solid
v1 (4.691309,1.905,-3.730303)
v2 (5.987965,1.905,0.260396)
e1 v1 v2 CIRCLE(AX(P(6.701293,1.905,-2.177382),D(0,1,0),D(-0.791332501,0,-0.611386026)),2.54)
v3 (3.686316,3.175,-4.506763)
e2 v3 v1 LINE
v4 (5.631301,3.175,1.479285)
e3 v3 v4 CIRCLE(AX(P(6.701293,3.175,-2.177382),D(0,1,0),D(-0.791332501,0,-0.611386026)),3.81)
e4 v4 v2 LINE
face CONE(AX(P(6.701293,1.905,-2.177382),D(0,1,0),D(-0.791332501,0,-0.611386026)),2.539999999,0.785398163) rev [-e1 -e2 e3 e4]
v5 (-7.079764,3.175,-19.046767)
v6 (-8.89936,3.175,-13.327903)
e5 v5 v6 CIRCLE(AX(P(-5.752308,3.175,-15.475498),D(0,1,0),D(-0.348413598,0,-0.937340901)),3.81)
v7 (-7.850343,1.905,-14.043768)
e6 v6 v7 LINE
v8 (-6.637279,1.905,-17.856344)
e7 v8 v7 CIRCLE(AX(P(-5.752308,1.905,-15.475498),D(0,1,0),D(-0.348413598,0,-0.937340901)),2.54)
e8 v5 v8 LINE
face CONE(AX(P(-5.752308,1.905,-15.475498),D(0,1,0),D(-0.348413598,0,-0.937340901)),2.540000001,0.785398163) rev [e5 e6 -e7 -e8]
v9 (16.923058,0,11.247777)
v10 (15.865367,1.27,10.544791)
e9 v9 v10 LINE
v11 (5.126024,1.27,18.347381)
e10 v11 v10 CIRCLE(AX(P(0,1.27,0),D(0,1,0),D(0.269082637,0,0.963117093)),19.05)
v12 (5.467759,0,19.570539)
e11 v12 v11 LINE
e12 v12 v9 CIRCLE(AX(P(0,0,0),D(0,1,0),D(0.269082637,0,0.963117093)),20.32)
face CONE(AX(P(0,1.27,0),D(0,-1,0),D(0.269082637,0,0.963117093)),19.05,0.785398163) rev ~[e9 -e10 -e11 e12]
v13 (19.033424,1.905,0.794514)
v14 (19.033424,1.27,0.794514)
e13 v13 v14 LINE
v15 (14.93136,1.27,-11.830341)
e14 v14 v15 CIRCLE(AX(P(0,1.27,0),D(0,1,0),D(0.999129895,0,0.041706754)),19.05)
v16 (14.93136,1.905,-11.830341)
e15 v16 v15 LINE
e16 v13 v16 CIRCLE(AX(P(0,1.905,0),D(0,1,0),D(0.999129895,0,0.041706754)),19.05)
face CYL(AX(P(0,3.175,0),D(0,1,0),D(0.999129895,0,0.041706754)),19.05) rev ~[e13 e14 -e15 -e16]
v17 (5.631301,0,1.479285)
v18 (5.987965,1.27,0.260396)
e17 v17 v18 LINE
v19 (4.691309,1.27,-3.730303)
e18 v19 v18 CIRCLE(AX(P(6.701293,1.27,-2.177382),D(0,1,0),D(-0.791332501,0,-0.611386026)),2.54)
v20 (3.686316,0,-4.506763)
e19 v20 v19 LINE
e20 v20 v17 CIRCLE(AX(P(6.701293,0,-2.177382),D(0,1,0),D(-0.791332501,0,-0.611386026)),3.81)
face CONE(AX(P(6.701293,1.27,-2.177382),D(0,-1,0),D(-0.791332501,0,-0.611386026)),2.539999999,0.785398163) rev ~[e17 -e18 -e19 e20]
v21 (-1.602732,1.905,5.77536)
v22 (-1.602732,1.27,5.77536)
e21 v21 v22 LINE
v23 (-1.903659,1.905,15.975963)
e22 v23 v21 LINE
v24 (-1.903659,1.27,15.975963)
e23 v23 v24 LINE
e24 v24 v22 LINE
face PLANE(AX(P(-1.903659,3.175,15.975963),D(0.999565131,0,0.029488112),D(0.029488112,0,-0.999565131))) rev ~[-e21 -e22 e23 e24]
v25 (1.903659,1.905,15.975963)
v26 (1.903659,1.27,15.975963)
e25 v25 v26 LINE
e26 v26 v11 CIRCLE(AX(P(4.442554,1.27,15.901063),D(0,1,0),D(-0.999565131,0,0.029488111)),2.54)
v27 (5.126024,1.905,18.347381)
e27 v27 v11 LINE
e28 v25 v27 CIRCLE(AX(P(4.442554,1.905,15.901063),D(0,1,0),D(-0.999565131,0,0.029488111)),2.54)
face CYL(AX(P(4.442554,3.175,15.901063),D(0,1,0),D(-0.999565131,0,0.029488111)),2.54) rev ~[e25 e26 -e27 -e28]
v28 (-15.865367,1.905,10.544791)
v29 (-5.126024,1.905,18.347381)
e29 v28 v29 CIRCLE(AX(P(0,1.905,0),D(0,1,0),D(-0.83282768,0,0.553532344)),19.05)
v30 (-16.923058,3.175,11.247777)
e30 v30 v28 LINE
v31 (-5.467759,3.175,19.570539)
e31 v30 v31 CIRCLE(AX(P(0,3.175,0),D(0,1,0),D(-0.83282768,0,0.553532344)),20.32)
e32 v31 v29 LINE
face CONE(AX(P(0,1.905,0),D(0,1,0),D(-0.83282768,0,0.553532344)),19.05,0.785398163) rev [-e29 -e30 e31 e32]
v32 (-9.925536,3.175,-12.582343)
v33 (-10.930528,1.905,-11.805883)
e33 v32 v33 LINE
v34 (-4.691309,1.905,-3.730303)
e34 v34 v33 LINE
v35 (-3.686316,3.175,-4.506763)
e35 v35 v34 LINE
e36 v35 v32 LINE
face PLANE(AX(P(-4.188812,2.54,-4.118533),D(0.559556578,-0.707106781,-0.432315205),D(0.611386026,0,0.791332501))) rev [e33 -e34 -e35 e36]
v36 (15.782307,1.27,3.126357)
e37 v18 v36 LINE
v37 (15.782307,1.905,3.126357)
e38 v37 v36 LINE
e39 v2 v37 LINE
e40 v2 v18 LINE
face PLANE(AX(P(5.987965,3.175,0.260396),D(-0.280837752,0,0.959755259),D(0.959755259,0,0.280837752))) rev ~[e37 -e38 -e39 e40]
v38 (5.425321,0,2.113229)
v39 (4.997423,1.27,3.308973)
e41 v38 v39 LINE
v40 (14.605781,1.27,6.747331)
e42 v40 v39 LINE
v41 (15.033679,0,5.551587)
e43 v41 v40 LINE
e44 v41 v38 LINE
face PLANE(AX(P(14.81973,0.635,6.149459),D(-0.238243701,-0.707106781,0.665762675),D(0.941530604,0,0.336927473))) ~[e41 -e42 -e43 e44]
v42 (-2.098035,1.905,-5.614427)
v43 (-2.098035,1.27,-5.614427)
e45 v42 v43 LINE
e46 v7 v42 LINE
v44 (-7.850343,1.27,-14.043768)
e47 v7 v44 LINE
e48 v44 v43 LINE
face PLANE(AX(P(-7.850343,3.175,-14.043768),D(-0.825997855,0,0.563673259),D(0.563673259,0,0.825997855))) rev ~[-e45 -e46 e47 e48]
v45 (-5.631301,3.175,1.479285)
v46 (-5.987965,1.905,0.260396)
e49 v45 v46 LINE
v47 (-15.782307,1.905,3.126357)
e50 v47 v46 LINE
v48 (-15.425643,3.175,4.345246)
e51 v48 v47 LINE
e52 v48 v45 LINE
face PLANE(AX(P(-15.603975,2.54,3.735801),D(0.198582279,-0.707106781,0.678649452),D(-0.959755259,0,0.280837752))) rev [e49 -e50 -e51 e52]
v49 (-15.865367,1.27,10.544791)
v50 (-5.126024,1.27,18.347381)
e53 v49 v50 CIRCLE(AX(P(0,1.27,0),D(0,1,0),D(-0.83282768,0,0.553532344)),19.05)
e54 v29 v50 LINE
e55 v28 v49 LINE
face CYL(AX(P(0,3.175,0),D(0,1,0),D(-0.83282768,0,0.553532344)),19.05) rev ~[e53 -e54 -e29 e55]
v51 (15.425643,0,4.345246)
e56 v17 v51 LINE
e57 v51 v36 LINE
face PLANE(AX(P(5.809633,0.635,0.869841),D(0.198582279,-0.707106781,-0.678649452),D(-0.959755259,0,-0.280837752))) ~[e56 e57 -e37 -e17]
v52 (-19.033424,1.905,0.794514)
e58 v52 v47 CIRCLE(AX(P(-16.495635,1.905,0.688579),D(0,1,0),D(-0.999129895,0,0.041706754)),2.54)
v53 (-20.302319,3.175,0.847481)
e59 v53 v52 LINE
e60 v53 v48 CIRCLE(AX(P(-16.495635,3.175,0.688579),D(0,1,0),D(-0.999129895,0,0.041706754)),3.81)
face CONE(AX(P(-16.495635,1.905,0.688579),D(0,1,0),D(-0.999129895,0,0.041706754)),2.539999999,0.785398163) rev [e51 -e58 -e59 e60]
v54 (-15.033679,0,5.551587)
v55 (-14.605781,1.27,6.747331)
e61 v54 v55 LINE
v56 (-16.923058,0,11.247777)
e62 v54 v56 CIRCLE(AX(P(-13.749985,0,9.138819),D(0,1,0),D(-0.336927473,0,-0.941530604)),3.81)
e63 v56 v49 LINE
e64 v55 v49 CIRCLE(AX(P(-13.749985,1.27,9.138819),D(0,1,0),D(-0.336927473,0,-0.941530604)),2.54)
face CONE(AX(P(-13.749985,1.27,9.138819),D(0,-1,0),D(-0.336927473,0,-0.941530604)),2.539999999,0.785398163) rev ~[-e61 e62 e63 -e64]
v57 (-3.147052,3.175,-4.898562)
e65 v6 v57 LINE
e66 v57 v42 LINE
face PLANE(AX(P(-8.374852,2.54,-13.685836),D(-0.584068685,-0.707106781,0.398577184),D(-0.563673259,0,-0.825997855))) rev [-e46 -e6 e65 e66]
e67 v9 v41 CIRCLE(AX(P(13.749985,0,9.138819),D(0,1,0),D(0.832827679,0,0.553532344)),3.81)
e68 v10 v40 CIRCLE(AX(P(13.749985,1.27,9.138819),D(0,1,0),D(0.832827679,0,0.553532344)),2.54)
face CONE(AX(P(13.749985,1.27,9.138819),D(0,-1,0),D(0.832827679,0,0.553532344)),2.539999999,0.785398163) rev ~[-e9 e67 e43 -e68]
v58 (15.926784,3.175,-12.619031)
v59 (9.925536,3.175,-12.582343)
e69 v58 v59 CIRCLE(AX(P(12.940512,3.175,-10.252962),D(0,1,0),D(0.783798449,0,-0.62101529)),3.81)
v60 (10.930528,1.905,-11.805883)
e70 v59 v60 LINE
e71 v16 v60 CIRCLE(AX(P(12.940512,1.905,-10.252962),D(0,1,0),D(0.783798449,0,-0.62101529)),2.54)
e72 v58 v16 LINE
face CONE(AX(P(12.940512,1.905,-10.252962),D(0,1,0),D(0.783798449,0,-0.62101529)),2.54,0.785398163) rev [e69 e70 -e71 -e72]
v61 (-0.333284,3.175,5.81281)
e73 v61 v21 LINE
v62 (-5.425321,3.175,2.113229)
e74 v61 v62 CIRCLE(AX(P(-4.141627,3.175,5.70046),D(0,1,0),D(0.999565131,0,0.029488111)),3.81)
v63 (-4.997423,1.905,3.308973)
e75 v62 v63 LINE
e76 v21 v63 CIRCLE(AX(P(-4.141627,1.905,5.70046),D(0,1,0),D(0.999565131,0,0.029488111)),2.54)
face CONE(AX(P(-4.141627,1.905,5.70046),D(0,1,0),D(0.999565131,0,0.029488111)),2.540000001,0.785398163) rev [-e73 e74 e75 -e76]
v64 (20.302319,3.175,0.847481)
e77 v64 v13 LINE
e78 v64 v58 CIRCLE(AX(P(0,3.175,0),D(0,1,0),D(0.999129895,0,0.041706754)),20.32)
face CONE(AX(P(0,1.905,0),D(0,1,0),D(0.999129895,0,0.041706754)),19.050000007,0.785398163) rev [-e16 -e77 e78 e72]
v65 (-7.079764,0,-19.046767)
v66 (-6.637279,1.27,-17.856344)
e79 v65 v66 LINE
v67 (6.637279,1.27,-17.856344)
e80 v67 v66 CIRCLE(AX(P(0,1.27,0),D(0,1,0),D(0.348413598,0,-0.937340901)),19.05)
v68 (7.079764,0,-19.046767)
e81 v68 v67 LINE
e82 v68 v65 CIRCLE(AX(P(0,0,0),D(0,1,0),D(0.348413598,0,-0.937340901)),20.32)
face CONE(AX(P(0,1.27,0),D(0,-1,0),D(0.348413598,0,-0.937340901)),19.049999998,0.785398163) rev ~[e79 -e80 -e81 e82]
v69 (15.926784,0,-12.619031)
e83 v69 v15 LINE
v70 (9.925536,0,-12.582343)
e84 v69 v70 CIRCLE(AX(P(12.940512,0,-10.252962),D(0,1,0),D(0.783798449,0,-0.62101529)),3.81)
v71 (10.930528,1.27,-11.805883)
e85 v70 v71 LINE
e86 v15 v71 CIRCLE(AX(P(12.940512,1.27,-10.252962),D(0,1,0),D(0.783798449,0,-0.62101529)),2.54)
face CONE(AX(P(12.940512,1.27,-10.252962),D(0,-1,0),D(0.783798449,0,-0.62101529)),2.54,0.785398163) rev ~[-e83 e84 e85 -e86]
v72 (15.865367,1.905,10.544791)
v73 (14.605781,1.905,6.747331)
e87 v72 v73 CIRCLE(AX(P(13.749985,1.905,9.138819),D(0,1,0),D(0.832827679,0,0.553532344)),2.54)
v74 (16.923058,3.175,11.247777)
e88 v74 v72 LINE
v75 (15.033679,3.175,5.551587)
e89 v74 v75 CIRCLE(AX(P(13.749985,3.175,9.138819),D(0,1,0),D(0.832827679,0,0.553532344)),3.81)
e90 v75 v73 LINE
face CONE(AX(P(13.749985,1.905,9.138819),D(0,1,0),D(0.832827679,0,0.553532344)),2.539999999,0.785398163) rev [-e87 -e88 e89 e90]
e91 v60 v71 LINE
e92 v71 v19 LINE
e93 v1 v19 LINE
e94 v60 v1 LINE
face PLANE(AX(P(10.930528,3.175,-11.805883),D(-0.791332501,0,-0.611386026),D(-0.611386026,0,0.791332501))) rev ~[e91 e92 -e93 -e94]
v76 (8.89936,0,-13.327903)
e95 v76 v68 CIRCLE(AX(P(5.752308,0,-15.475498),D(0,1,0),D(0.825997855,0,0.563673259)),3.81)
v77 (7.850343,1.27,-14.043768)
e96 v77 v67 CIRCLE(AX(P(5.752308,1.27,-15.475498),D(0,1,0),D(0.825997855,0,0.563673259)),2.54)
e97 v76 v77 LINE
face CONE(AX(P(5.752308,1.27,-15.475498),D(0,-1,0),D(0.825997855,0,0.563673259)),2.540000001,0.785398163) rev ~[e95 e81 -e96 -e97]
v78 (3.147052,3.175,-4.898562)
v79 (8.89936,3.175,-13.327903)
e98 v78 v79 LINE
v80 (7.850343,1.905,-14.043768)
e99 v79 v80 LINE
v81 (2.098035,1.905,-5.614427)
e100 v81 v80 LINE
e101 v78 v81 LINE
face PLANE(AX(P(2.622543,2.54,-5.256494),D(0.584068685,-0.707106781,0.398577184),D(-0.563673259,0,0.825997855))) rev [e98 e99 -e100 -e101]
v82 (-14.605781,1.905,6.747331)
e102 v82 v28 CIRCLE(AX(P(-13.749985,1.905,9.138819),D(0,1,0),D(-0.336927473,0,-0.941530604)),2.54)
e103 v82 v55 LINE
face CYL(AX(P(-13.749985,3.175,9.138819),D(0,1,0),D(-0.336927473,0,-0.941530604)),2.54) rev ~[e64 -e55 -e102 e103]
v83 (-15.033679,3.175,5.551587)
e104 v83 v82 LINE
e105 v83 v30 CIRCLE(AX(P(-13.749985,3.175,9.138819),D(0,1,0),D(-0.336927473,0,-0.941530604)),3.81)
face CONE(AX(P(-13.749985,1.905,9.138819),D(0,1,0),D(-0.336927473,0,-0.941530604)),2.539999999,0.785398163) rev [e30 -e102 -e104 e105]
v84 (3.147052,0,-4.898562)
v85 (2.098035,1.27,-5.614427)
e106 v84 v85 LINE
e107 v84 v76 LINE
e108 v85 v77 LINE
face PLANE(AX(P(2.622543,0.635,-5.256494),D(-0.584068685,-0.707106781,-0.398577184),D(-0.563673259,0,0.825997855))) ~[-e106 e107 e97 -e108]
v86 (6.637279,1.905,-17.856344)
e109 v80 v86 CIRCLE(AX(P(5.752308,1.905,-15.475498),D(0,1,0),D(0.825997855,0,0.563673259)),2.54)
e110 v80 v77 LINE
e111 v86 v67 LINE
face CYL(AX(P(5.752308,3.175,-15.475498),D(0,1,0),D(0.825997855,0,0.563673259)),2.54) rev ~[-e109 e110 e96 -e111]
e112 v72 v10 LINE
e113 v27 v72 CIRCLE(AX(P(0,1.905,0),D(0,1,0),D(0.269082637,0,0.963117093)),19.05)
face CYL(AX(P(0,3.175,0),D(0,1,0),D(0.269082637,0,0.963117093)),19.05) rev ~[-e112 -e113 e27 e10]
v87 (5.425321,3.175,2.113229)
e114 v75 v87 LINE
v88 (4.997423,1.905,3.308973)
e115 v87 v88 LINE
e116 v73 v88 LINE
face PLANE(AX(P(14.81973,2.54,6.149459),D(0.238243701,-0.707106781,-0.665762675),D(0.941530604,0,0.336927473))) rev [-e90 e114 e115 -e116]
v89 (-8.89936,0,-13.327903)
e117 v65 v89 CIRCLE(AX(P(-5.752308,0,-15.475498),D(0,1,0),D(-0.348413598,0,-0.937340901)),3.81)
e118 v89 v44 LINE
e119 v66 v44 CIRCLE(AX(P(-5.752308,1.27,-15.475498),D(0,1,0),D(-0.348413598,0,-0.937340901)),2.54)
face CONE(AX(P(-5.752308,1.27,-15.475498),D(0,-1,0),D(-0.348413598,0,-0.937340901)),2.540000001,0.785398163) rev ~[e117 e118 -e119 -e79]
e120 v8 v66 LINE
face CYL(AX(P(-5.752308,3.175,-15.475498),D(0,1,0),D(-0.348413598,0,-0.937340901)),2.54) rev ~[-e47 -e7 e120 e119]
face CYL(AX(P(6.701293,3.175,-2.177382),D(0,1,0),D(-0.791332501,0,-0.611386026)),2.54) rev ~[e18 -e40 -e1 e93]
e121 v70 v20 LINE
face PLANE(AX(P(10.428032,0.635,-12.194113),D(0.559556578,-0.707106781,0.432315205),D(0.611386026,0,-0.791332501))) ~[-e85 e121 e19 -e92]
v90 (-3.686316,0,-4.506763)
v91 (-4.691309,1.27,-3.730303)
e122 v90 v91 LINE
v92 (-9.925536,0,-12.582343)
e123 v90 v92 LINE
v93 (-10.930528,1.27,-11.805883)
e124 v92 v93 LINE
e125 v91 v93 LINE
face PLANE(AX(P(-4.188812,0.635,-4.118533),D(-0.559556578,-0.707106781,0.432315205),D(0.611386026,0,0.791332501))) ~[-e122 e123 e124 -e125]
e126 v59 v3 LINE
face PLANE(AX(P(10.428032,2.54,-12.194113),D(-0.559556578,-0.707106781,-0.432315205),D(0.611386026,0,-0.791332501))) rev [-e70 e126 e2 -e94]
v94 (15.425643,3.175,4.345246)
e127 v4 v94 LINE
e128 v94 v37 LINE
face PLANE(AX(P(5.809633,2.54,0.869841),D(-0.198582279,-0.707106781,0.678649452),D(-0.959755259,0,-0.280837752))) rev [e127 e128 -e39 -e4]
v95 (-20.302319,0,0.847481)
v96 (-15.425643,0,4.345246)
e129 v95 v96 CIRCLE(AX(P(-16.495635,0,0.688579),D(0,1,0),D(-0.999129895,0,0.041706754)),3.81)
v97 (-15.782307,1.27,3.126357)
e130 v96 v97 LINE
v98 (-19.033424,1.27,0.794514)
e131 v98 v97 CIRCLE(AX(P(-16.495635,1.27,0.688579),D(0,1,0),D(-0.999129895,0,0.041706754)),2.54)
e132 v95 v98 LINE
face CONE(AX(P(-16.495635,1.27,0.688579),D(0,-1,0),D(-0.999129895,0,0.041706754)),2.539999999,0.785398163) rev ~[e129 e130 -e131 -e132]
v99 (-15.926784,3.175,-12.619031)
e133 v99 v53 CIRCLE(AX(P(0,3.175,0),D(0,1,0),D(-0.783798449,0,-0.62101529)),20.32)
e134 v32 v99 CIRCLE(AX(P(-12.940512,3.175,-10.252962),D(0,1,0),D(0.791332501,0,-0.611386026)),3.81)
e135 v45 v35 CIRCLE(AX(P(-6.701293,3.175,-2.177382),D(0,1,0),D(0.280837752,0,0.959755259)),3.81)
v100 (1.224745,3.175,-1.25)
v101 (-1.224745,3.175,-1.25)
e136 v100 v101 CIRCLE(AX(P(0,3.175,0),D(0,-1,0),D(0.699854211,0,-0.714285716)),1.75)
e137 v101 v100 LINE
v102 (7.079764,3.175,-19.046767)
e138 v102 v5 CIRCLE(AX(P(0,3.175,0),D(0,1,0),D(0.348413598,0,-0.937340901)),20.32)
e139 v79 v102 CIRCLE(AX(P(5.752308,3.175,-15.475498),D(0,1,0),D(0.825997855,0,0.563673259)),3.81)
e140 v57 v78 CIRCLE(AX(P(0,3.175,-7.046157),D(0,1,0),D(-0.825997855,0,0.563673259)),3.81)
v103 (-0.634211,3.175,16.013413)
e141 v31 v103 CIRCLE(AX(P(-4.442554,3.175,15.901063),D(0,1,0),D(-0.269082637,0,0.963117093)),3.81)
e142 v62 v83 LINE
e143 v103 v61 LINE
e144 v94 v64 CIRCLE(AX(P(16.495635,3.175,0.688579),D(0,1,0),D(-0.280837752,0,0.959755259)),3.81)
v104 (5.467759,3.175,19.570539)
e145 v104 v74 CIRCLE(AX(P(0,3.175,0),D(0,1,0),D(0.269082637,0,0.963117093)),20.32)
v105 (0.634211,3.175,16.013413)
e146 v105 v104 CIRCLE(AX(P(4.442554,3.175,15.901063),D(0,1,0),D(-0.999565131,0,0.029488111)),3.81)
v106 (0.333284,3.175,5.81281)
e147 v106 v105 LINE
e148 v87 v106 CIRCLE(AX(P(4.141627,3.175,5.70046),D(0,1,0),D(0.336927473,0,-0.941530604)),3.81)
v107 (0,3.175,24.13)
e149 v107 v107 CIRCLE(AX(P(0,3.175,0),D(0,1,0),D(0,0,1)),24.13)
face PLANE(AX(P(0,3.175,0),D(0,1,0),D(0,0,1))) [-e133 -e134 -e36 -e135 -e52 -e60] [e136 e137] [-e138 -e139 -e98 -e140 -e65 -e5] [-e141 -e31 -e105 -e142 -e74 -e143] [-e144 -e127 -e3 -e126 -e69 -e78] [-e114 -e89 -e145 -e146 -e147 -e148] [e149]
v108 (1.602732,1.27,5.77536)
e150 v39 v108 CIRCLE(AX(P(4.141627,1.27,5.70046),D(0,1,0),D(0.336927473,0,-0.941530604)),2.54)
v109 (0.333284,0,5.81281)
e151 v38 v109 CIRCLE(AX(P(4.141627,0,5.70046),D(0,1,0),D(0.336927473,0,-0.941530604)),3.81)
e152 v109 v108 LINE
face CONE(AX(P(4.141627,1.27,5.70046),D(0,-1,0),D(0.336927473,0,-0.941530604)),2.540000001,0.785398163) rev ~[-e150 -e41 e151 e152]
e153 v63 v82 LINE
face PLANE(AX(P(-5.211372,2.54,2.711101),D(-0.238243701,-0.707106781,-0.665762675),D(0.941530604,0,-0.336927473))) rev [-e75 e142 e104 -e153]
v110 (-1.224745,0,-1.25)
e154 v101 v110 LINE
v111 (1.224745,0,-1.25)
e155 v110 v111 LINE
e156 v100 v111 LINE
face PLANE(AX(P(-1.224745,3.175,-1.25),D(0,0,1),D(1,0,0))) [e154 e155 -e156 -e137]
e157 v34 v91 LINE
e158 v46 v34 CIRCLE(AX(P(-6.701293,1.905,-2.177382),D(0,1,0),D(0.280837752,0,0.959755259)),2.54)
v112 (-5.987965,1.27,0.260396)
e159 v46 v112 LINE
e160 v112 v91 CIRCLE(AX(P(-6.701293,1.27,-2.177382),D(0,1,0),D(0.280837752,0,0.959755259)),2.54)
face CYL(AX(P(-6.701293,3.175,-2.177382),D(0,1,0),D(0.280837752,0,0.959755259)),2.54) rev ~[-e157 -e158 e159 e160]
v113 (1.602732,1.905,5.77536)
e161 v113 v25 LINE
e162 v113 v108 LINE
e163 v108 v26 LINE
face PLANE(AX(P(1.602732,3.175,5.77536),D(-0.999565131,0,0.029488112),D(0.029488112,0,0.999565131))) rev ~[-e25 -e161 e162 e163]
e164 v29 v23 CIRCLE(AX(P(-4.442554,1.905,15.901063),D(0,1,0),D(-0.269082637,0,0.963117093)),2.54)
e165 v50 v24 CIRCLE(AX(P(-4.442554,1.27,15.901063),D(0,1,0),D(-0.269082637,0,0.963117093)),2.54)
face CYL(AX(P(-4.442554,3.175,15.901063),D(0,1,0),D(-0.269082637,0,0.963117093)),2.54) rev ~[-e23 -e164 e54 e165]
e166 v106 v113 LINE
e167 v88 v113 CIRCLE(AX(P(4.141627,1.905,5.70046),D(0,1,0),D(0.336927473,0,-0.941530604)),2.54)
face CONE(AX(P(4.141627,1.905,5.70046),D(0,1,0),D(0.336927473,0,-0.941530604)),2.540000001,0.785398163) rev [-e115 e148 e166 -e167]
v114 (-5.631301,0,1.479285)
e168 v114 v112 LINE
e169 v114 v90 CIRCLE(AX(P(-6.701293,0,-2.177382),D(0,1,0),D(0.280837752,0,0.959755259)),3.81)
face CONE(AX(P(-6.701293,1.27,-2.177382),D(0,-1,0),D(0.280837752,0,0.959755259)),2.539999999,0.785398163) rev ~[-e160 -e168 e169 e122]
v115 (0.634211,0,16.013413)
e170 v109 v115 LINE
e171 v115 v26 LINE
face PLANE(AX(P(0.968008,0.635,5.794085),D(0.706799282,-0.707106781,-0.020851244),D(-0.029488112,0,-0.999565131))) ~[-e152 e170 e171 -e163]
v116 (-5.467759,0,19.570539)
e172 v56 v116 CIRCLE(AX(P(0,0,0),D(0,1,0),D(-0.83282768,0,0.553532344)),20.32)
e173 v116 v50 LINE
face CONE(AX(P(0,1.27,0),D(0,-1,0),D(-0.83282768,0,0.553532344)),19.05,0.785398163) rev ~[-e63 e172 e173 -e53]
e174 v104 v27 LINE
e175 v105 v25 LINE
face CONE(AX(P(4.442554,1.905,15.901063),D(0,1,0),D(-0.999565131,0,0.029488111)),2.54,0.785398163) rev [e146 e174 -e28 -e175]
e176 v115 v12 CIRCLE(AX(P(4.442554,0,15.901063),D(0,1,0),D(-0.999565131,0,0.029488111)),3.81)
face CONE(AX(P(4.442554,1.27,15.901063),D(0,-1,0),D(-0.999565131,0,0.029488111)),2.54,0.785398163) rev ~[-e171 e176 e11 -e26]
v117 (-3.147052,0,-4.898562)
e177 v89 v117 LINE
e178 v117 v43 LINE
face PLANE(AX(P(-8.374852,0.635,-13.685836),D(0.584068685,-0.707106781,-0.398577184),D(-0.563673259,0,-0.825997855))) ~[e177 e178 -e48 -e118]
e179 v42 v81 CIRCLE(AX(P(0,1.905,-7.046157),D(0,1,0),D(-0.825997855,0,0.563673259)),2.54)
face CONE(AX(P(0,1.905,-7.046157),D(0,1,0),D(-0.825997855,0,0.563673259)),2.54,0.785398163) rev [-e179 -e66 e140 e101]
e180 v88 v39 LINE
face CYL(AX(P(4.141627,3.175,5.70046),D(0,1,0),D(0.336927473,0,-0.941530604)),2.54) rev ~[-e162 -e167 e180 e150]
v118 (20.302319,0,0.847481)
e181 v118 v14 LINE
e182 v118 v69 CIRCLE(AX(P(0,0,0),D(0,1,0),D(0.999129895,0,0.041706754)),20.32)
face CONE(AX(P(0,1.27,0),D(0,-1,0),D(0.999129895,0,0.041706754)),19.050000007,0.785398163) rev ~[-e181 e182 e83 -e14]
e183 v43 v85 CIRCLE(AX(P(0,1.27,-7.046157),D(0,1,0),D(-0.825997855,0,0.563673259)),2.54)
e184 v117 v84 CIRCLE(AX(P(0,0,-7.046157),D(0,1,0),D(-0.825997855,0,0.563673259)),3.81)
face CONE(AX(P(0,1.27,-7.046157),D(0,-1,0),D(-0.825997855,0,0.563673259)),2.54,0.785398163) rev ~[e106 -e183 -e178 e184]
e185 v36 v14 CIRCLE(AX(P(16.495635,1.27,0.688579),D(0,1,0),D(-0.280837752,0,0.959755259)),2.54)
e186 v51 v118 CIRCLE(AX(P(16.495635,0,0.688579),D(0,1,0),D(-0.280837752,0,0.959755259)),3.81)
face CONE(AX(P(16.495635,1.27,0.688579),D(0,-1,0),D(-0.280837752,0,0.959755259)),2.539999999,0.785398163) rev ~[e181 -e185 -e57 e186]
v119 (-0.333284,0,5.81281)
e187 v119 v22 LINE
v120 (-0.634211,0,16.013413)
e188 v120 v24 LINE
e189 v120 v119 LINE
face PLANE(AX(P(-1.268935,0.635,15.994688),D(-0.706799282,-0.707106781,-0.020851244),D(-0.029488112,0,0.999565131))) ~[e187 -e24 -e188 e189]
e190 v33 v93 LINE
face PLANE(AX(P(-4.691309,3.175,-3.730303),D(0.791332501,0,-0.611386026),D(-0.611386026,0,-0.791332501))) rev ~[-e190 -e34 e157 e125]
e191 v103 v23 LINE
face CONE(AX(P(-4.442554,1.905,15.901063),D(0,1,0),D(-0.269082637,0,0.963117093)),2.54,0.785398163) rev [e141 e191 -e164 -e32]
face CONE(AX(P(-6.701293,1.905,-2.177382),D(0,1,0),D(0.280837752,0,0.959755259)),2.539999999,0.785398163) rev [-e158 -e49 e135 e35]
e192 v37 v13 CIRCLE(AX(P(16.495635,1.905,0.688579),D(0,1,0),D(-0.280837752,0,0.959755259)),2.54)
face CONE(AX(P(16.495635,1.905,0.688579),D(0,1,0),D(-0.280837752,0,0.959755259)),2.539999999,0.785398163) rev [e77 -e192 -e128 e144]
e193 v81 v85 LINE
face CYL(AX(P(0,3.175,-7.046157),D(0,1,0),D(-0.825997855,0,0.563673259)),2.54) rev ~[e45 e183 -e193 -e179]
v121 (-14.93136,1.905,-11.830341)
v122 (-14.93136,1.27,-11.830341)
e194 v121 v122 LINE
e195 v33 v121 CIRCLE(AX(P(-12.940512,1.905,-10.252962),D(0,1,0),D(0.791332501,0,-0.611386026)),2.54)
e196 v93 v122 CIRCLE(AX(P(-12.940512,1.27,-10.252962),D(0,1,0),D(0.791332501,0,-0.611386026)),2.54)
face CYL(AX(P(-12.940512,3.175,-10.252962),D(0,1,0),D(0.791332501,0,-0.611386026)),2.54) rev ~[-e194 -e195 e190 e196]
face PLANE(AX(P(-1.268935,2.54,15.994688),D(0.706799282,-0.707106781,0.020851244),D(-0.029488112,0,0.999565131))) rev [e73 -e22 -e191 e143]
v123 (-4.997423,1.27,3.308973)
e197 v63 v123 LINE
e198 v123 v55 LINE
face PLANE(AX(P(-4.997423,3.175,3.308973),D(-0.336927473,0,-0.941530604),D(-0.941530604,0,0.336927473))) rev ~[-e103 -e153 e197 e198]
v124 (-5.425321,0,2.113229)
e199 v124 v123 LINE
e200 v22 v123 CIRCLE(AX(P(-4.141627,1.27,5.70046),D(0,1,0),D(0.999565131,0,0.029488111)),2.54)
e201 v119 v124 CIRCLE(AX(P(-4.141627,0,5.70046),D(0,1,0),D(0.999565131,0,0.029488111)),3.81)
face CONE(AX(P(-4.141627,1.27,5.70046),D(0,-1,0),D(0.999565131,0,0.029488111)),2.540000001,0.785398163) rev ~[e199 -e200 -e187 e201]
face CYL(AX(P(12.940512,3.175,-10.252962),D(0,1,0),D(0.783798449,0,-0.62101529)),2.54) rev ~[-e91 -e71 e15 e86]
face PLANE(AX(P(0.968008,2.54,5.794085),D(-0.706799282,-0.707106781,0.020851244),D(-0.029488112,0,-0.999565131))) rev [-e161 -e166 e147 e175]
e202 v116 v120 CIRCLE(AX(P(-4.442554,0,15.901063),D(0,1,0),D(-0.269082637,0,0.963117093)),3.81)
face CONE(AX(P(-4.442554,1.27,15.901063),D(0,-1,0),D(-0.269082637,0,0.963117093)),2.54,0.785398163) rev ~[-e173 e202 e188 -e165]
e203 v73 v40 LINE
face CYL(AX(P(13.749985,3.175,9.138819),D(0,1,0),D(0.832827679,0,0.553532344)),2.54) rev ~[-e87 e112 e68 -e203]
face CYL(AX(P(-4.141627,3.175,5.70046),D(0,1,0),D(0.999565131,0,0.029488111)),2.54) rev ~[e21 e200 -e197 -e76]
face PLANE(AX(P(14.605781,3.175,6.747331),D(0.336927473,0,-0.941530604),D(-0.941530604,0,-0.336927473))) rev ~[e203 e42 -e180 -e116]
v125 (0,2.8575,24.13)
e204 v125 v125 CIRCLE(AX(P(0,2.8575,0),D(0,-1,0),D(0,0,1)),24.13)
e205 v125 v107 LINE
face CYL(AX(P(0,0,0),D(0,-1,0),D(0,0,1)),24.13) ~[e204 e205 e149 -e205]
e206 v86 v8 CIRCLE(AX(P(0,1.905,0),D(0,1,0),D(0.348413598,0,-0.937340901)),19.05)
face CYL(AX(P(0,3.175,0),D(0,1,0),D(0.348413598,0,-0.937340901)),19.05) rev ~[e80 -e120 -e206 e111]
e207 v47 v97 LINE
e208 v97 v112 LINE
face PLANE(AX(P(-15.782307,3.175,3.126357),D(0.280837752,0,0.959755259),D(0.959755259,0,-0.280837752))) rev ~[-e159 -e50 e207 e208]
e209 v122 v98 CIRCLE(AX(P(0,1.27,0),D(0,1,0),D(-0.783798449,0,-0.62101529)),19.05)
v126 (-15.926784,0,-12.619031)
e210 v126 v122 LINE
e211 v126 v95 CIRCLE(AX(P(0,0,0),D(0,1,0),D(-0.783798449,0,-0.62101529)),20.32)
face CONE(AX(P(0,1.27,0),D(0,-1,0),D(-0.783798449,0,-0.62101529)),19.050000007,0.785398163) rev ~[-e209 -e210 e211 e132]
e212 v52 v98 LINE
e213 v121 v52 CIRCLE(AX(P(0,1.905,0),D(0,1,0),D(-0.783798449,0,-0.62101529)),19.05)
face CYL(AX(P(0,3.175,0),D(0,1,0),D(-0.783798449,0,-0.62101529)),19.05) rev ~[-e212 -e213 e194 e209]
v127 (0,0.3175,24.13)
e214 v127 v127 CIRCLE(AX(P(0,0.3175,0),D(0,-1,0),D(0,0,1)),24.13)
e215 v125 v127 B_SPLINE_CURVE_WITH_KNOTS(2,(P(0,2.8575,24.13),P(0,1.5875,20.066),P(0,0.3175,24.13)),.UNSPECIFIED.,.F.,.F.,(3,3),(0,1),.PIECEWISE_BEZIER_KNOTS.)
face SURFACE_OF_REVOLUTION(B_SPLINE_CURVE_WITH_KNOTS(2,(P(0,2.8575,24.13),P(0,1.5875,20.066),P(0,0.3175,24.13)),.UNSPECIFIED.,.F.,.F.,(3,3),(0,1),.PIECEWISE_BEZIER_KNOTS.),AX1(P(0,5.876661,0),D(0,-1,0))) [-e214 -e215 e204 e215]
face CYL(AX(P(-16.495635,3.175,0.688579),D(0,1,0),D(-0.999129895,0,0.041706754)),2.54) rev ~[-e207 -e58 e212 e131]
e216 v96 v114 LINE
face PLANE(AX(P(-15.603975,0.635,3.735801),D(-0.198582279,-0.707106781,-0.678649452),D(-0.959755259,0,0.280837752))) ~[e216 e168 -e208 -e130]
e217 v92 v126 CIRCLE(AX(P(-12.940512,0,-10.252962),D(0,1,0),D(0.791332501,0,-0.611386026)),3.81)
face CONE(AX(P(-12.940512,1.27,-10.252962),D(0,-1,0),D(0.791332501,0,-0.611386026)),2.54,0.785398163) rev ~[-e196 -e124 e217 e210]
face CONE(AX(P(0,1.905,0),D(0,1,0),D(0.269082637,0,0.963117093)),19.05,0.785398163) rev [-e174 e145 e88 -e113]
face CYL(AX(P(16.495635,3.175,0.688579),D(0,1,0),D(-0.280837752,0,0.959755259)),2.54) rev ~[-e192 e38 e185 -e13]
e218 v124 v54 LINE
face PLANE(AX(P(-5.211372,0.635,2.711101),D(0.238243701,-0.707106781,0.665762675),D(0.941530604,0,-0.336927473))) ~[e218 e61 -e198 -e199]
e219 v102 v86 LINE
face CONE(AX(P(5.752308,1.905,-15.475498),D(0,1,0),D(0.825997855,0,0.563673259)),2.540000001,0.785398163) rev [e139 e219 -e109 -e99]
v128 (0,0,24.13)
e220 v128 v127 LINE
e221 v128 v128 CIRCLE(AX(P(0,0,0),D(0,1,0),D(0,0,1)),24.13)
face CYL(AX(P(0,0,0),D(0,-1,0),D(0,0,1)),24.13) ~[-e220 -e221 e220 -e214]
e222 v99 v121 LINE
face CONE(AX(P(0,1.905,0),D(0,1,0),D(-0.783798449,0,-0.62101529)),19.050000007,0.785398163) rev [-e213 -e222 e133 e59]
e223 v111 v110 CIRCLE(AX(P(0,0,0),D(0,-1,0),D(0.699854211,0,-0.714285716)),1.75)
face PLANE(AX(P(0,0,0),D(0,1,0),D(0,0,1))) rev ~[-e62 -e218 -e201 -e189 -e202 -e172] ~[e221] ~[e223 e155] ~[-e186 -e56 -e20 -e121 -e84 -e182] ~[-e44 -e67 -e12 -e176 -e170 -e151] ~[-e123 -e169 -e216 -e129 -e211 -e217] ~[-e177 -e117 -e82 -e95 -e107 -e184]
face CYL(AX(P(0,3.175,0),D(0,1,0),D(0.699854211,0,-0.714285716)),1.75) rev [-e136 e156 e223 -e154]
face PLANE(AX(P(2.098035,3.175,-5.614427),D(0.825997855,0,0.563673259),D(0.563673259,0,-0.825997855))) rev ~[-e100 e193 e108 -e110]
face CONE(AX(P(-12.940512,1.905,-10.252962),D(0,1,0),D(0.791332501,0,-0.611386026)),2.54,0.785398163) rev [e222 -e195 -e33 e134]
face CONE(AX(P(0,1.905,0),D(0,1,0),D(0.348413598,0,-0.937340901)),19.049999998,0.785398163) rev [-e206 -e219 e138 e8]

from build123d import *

# Parameters (mm, degrees)
SKETCH1_R           = 24.13
BOSS_EXTRUDE1_DEPTH = 3.175
CUT_EXTRUDE2_DEPTH  = 35.272356572
CHAMFER2_SIZE       = 1.27
CUT_EXTRUDE4_DEPTH  = 3.175


with BuildPart() as part:
    # Sketch1 → Boss-Extrude1 (new body)
    with BuildSketch(Plane(origin=(0, 0, 0), x_dir=(1, 0, 0), z_dir=(0, 1, 0))):
        with Locations(Location((0, 0, 0), (0, 0, 270))):
            Circle(SKETCH1_R)
    extrude(amount=BOSS_EXTRUDE1_DEPTH)

    # Sketch3 → Cut-Extrude2 (cut, through all)
    with BuildSketch(Plane(origin=(0, 3.175, 0), x_dir=(1, 0, 0), z_dir=(0, 1, 0))):
        with BuildLine():
            Line((-7.850343046, 14.0437682), (-2.098034552, 5.614426559))
            ThreePointArc((-2.098034552, 5.614426559), (0, 4.506156638), (2.098034552, 5.614426559))
            Line((2.098034552, 5.614426559), (7.850343046, 14.0437682))
            ThreePointArc((7.850343046, 14.0437682), (8.172745173, 16.245619231), (6.637279032, 17.856344168))
            ThreePointArc((6.637279032, 17.856344168), (0, 19.05), (-6.637279032, 17.856344168))
            ThreePointArc((-6.637279032, 17.856344168), (-8.172745173, 16.245619231), (-7.850343046, 14.0437682))
        make_face()
        with BuildLine():
            Line((10.930527847, 11.805882948), (4.691308633, 3.730302652))
            ThreePointArc((4.691308633, 3.730302652), (4.285609634, 1.392478981), (5.987965296, -0.260396211))
            Line((5.987965296, -0.260396211), (15.782306673, -3.12635687))
            ThreePointArc((15.782306673, -3.12635687), (17.976019181, -2.752570127), (19.033424496, -0.794513668))
            ThreePointArc((19.033424496, -0.794513668), (18.117626635, 5.886773743), (14.931360461, 11.830341279))
            ThreePointArc((14.931360461, 11.830341279), (12.924984882, 12.79291498), (10.930527847, 11.805882948))
        make_face()
        with BuildLine():
            Line((14.60578077, -6.747331271), (4.997422739, -3.308972732))
            ThreePointArc((4.997422739, -3.308972732), (2.648652417, -3.6455573), (1.602731524, -5.775360269))
            Line((1.602731524, -5.775360269), (1.903658899, -15.975963007))
            ThreePointArc((1.903658899, -15.975963007), (2.937045662, -17.946801126), (5.126024229, -18.34738062))
            ThreePointArc((5.126024229, -18.34738062), (11.197309056, -15.411773743), (15.865367295, -10.544791159))
            ThreePointArc((15.865367295, -10.544791159), (16.160825135, -8.339162959), (14.60578077, -6.747331271))
        make_face()
        with BuildLine():
            Line((-1.903658899, -15.975963007), (-1.602731524, -5.775360269))
            ThreePointArc((-1.602731524, -5.775360269), (-2.648652417, -3.6455573), (-4.997422739, -3.308972732))
            Line((-4.997422739, -3.308972732), (-14.60578077, -6.747331271))
            ThreePointArc((-14.60578077, -6.747331271), (-16.160825135, -8.339162959), (-15.865367295, -10.544791159))
            ThreePointArc((-15.865367295, -10.544791159), (-11.197309056, -15.411773743), (-5.126024229, -18.34738062))
            ThreePointArc((-5.126024229, -18.34738062), (-2.937045662, -17.946801126), (-1.903658899, -15.975963007))
        make_face()
        with BuildLine():
            Line((-15.782306673, -3.12635687), (-5.987965296, -0.260396211))
            ThreePointArc((-5.987965296, -0.260396211), (-4.285609634, 1.392478981), (-4.691308633, 3.730302652))
            Line((-4.691308633, 3.730302652), (-10.930527847, 11.805882948))
            ThreePointArc((-10.930527847, 11.805882948), (-12.924984882, 12.79291498), (-14.931360461, 11.830341279))
            ThreePointArc((-14.931360461, 11.830341279), (-18.117626635, 5.886773743), (-19.033424496, -0.794513668))
            ThreePointArc((-19.033424496, -0.794513668), (-17.976019181, -2.752570127), (-15.782306673, -3.12635687))
        make_face()
    extrude(amount=-CUT_EXTRUDE2_DEPTH, mode=Mode.SUBTRACT)

    # Chamfer2
    chamfer2_edges = [part.edges().sort_by_distance(p)[0] for p in [
        (0, 0, -4.506156638),
        (-4.974188799, 0, -9.82909738),
        (-8.172745173, 0, -16.245619231),
        (0, 0, -19.05),
        (8.172745173, 0, -16.245619231),
        (4.974188799, 0, -9.82909738),
        (0, 3.175, -4.506156638),
        (4.974188799, 3.175, -9.82909738),
        (8.172745173, 3.175, -16.245619231),
        (0, 3.175, -19.05),
        (-8.172745173, 3.175, -16.245619231),
        (-4.974188799, 3.175, -9.82909738),
        (4.285609634, 0, -1.392478981),
        (7.81091824, 0, -7.7680928),
        (12.924984882, 0, -12.79291498),
        (18.117626635, 0, -5.886773743),
        (17.976019181, 0, 2.752570127),
        (10.885135984, 0, 1.693376541),
        (4.285609634, 3.175, -1.392478981),
        (10.885135984, 3.175, 1.693376541),
        (17.976019181, 3.175, 2.752570127),
        (18.117626635, 3.175, -5.886773743),
        (12.924984882, 3.175, -12.79291498),
        (7.81091824, 3.175, -7.7680928),
        (2.648652417, 0, 3.6455573),
        (9.801601755, 0, 5.028152001),
        (16.160825135, 0, 8.339162959),
        (11.197309056, 0, 15.411773743),
        (2.937045662, 0, 17.946801126),
        (1.753195212, 0, 10.875661638),
        (2.648652417, 3.175, 3.6455573),
        (1.753195212, 3.175, 10.875661638),
        (2.937045662, 3.175, 17.946801126),
        (11.197309056, 3.175, 15.411773743),
        (16.160825135, 3.175, 8.339162959),
        (9.801601755, 3.175, 5.028152001),
        (-2.648652417, 0, 3.6455573),
        (-1.753195212, 0, 10.875661638),
        (-2.937045662, 0, 17.946801126),
        (-11.197309056, 0, 15.411773743),
        (-16.160825135, 0, 8.339162959),
        (-9.801601755, 0, 5.028152001),
        (-2.648652417, 3.175, 3.6455573),
        (-9.801601755, 3.175, 5.028152001),
        (-16.160825135, 3.175, 8.339162959),
        (-11.197309056, 3.175, 15.411773743),
        (-2.937045662, 3.175, 17.946801126),
        (-1.753195212, 3.175, 10.875661638),
        (-4.285609634, 0, -1.392478981),
        (-10.885135984, 0, 1.693376541),
        (-17.976019181, 0, 2.752570127),
        (-18.117626635, 0, -5.886773743),
        (-12.924984882, 0, -12.79291498),
        (-7.81091824, 0, -7.7680928),
        (-4.285609634, 3.175, -1.392478981),
        (-7.81091824, 3.175, -7.7680928),
        (-12.924984882, 3.175, -12.79291498),
        (-18.117626635, 3.175, -5.886773743),
        (-17.976019181, 3.175, 2.752570127),
        (-10.885135984, 3.175, 1.693376541),
    ]]
    chamfer(chamfer2_edges, length=CHAMFER2_SIZE)

    # Sketch6 → Cut-Revolve3 (revolve, cut)
    with BuildSketch(Plane(origin=(0, 0, 0), x_dir=(0, 0, -1), z_dir=(1, 0, 0))):
        with BuildLine():
            Line((-24.13, 2.8575), (-24.13, 0.3175))
            add(Edge.make_bspline(
                [(-24.13, 2.8575), (-20.066, 1.5875), (-24.13, 0.3175)],
                knots=[0, 0, 0, 1, 1, 1], degree=2))
        make_face()
    revolve(axis=Axis((0, 5.876661269, 0), (0, -1, 0)), mode=Mode.SUBTRACT)

    # Sketch2 → Cut-Extrude4 (cut)
    with BuildSketch(Plane(origin=(0, 3.175, 0), x_dir=(1, 0, 0), z_dir=(0, 1, 0))):
        with BuildLine():
            Line((-1.224744914, 1.250000048), (1.224744914, 1.250000048))
            ThreePointArc((1.224744914, 1.250000048), (0, -1.750000064), (-1.224744914, 1.250000048))
        make_face()
    extrude(amount=-CUT_EXTRUDE4_DEPTH, mode=Mode.SUBTRACT)


solid = part.part
